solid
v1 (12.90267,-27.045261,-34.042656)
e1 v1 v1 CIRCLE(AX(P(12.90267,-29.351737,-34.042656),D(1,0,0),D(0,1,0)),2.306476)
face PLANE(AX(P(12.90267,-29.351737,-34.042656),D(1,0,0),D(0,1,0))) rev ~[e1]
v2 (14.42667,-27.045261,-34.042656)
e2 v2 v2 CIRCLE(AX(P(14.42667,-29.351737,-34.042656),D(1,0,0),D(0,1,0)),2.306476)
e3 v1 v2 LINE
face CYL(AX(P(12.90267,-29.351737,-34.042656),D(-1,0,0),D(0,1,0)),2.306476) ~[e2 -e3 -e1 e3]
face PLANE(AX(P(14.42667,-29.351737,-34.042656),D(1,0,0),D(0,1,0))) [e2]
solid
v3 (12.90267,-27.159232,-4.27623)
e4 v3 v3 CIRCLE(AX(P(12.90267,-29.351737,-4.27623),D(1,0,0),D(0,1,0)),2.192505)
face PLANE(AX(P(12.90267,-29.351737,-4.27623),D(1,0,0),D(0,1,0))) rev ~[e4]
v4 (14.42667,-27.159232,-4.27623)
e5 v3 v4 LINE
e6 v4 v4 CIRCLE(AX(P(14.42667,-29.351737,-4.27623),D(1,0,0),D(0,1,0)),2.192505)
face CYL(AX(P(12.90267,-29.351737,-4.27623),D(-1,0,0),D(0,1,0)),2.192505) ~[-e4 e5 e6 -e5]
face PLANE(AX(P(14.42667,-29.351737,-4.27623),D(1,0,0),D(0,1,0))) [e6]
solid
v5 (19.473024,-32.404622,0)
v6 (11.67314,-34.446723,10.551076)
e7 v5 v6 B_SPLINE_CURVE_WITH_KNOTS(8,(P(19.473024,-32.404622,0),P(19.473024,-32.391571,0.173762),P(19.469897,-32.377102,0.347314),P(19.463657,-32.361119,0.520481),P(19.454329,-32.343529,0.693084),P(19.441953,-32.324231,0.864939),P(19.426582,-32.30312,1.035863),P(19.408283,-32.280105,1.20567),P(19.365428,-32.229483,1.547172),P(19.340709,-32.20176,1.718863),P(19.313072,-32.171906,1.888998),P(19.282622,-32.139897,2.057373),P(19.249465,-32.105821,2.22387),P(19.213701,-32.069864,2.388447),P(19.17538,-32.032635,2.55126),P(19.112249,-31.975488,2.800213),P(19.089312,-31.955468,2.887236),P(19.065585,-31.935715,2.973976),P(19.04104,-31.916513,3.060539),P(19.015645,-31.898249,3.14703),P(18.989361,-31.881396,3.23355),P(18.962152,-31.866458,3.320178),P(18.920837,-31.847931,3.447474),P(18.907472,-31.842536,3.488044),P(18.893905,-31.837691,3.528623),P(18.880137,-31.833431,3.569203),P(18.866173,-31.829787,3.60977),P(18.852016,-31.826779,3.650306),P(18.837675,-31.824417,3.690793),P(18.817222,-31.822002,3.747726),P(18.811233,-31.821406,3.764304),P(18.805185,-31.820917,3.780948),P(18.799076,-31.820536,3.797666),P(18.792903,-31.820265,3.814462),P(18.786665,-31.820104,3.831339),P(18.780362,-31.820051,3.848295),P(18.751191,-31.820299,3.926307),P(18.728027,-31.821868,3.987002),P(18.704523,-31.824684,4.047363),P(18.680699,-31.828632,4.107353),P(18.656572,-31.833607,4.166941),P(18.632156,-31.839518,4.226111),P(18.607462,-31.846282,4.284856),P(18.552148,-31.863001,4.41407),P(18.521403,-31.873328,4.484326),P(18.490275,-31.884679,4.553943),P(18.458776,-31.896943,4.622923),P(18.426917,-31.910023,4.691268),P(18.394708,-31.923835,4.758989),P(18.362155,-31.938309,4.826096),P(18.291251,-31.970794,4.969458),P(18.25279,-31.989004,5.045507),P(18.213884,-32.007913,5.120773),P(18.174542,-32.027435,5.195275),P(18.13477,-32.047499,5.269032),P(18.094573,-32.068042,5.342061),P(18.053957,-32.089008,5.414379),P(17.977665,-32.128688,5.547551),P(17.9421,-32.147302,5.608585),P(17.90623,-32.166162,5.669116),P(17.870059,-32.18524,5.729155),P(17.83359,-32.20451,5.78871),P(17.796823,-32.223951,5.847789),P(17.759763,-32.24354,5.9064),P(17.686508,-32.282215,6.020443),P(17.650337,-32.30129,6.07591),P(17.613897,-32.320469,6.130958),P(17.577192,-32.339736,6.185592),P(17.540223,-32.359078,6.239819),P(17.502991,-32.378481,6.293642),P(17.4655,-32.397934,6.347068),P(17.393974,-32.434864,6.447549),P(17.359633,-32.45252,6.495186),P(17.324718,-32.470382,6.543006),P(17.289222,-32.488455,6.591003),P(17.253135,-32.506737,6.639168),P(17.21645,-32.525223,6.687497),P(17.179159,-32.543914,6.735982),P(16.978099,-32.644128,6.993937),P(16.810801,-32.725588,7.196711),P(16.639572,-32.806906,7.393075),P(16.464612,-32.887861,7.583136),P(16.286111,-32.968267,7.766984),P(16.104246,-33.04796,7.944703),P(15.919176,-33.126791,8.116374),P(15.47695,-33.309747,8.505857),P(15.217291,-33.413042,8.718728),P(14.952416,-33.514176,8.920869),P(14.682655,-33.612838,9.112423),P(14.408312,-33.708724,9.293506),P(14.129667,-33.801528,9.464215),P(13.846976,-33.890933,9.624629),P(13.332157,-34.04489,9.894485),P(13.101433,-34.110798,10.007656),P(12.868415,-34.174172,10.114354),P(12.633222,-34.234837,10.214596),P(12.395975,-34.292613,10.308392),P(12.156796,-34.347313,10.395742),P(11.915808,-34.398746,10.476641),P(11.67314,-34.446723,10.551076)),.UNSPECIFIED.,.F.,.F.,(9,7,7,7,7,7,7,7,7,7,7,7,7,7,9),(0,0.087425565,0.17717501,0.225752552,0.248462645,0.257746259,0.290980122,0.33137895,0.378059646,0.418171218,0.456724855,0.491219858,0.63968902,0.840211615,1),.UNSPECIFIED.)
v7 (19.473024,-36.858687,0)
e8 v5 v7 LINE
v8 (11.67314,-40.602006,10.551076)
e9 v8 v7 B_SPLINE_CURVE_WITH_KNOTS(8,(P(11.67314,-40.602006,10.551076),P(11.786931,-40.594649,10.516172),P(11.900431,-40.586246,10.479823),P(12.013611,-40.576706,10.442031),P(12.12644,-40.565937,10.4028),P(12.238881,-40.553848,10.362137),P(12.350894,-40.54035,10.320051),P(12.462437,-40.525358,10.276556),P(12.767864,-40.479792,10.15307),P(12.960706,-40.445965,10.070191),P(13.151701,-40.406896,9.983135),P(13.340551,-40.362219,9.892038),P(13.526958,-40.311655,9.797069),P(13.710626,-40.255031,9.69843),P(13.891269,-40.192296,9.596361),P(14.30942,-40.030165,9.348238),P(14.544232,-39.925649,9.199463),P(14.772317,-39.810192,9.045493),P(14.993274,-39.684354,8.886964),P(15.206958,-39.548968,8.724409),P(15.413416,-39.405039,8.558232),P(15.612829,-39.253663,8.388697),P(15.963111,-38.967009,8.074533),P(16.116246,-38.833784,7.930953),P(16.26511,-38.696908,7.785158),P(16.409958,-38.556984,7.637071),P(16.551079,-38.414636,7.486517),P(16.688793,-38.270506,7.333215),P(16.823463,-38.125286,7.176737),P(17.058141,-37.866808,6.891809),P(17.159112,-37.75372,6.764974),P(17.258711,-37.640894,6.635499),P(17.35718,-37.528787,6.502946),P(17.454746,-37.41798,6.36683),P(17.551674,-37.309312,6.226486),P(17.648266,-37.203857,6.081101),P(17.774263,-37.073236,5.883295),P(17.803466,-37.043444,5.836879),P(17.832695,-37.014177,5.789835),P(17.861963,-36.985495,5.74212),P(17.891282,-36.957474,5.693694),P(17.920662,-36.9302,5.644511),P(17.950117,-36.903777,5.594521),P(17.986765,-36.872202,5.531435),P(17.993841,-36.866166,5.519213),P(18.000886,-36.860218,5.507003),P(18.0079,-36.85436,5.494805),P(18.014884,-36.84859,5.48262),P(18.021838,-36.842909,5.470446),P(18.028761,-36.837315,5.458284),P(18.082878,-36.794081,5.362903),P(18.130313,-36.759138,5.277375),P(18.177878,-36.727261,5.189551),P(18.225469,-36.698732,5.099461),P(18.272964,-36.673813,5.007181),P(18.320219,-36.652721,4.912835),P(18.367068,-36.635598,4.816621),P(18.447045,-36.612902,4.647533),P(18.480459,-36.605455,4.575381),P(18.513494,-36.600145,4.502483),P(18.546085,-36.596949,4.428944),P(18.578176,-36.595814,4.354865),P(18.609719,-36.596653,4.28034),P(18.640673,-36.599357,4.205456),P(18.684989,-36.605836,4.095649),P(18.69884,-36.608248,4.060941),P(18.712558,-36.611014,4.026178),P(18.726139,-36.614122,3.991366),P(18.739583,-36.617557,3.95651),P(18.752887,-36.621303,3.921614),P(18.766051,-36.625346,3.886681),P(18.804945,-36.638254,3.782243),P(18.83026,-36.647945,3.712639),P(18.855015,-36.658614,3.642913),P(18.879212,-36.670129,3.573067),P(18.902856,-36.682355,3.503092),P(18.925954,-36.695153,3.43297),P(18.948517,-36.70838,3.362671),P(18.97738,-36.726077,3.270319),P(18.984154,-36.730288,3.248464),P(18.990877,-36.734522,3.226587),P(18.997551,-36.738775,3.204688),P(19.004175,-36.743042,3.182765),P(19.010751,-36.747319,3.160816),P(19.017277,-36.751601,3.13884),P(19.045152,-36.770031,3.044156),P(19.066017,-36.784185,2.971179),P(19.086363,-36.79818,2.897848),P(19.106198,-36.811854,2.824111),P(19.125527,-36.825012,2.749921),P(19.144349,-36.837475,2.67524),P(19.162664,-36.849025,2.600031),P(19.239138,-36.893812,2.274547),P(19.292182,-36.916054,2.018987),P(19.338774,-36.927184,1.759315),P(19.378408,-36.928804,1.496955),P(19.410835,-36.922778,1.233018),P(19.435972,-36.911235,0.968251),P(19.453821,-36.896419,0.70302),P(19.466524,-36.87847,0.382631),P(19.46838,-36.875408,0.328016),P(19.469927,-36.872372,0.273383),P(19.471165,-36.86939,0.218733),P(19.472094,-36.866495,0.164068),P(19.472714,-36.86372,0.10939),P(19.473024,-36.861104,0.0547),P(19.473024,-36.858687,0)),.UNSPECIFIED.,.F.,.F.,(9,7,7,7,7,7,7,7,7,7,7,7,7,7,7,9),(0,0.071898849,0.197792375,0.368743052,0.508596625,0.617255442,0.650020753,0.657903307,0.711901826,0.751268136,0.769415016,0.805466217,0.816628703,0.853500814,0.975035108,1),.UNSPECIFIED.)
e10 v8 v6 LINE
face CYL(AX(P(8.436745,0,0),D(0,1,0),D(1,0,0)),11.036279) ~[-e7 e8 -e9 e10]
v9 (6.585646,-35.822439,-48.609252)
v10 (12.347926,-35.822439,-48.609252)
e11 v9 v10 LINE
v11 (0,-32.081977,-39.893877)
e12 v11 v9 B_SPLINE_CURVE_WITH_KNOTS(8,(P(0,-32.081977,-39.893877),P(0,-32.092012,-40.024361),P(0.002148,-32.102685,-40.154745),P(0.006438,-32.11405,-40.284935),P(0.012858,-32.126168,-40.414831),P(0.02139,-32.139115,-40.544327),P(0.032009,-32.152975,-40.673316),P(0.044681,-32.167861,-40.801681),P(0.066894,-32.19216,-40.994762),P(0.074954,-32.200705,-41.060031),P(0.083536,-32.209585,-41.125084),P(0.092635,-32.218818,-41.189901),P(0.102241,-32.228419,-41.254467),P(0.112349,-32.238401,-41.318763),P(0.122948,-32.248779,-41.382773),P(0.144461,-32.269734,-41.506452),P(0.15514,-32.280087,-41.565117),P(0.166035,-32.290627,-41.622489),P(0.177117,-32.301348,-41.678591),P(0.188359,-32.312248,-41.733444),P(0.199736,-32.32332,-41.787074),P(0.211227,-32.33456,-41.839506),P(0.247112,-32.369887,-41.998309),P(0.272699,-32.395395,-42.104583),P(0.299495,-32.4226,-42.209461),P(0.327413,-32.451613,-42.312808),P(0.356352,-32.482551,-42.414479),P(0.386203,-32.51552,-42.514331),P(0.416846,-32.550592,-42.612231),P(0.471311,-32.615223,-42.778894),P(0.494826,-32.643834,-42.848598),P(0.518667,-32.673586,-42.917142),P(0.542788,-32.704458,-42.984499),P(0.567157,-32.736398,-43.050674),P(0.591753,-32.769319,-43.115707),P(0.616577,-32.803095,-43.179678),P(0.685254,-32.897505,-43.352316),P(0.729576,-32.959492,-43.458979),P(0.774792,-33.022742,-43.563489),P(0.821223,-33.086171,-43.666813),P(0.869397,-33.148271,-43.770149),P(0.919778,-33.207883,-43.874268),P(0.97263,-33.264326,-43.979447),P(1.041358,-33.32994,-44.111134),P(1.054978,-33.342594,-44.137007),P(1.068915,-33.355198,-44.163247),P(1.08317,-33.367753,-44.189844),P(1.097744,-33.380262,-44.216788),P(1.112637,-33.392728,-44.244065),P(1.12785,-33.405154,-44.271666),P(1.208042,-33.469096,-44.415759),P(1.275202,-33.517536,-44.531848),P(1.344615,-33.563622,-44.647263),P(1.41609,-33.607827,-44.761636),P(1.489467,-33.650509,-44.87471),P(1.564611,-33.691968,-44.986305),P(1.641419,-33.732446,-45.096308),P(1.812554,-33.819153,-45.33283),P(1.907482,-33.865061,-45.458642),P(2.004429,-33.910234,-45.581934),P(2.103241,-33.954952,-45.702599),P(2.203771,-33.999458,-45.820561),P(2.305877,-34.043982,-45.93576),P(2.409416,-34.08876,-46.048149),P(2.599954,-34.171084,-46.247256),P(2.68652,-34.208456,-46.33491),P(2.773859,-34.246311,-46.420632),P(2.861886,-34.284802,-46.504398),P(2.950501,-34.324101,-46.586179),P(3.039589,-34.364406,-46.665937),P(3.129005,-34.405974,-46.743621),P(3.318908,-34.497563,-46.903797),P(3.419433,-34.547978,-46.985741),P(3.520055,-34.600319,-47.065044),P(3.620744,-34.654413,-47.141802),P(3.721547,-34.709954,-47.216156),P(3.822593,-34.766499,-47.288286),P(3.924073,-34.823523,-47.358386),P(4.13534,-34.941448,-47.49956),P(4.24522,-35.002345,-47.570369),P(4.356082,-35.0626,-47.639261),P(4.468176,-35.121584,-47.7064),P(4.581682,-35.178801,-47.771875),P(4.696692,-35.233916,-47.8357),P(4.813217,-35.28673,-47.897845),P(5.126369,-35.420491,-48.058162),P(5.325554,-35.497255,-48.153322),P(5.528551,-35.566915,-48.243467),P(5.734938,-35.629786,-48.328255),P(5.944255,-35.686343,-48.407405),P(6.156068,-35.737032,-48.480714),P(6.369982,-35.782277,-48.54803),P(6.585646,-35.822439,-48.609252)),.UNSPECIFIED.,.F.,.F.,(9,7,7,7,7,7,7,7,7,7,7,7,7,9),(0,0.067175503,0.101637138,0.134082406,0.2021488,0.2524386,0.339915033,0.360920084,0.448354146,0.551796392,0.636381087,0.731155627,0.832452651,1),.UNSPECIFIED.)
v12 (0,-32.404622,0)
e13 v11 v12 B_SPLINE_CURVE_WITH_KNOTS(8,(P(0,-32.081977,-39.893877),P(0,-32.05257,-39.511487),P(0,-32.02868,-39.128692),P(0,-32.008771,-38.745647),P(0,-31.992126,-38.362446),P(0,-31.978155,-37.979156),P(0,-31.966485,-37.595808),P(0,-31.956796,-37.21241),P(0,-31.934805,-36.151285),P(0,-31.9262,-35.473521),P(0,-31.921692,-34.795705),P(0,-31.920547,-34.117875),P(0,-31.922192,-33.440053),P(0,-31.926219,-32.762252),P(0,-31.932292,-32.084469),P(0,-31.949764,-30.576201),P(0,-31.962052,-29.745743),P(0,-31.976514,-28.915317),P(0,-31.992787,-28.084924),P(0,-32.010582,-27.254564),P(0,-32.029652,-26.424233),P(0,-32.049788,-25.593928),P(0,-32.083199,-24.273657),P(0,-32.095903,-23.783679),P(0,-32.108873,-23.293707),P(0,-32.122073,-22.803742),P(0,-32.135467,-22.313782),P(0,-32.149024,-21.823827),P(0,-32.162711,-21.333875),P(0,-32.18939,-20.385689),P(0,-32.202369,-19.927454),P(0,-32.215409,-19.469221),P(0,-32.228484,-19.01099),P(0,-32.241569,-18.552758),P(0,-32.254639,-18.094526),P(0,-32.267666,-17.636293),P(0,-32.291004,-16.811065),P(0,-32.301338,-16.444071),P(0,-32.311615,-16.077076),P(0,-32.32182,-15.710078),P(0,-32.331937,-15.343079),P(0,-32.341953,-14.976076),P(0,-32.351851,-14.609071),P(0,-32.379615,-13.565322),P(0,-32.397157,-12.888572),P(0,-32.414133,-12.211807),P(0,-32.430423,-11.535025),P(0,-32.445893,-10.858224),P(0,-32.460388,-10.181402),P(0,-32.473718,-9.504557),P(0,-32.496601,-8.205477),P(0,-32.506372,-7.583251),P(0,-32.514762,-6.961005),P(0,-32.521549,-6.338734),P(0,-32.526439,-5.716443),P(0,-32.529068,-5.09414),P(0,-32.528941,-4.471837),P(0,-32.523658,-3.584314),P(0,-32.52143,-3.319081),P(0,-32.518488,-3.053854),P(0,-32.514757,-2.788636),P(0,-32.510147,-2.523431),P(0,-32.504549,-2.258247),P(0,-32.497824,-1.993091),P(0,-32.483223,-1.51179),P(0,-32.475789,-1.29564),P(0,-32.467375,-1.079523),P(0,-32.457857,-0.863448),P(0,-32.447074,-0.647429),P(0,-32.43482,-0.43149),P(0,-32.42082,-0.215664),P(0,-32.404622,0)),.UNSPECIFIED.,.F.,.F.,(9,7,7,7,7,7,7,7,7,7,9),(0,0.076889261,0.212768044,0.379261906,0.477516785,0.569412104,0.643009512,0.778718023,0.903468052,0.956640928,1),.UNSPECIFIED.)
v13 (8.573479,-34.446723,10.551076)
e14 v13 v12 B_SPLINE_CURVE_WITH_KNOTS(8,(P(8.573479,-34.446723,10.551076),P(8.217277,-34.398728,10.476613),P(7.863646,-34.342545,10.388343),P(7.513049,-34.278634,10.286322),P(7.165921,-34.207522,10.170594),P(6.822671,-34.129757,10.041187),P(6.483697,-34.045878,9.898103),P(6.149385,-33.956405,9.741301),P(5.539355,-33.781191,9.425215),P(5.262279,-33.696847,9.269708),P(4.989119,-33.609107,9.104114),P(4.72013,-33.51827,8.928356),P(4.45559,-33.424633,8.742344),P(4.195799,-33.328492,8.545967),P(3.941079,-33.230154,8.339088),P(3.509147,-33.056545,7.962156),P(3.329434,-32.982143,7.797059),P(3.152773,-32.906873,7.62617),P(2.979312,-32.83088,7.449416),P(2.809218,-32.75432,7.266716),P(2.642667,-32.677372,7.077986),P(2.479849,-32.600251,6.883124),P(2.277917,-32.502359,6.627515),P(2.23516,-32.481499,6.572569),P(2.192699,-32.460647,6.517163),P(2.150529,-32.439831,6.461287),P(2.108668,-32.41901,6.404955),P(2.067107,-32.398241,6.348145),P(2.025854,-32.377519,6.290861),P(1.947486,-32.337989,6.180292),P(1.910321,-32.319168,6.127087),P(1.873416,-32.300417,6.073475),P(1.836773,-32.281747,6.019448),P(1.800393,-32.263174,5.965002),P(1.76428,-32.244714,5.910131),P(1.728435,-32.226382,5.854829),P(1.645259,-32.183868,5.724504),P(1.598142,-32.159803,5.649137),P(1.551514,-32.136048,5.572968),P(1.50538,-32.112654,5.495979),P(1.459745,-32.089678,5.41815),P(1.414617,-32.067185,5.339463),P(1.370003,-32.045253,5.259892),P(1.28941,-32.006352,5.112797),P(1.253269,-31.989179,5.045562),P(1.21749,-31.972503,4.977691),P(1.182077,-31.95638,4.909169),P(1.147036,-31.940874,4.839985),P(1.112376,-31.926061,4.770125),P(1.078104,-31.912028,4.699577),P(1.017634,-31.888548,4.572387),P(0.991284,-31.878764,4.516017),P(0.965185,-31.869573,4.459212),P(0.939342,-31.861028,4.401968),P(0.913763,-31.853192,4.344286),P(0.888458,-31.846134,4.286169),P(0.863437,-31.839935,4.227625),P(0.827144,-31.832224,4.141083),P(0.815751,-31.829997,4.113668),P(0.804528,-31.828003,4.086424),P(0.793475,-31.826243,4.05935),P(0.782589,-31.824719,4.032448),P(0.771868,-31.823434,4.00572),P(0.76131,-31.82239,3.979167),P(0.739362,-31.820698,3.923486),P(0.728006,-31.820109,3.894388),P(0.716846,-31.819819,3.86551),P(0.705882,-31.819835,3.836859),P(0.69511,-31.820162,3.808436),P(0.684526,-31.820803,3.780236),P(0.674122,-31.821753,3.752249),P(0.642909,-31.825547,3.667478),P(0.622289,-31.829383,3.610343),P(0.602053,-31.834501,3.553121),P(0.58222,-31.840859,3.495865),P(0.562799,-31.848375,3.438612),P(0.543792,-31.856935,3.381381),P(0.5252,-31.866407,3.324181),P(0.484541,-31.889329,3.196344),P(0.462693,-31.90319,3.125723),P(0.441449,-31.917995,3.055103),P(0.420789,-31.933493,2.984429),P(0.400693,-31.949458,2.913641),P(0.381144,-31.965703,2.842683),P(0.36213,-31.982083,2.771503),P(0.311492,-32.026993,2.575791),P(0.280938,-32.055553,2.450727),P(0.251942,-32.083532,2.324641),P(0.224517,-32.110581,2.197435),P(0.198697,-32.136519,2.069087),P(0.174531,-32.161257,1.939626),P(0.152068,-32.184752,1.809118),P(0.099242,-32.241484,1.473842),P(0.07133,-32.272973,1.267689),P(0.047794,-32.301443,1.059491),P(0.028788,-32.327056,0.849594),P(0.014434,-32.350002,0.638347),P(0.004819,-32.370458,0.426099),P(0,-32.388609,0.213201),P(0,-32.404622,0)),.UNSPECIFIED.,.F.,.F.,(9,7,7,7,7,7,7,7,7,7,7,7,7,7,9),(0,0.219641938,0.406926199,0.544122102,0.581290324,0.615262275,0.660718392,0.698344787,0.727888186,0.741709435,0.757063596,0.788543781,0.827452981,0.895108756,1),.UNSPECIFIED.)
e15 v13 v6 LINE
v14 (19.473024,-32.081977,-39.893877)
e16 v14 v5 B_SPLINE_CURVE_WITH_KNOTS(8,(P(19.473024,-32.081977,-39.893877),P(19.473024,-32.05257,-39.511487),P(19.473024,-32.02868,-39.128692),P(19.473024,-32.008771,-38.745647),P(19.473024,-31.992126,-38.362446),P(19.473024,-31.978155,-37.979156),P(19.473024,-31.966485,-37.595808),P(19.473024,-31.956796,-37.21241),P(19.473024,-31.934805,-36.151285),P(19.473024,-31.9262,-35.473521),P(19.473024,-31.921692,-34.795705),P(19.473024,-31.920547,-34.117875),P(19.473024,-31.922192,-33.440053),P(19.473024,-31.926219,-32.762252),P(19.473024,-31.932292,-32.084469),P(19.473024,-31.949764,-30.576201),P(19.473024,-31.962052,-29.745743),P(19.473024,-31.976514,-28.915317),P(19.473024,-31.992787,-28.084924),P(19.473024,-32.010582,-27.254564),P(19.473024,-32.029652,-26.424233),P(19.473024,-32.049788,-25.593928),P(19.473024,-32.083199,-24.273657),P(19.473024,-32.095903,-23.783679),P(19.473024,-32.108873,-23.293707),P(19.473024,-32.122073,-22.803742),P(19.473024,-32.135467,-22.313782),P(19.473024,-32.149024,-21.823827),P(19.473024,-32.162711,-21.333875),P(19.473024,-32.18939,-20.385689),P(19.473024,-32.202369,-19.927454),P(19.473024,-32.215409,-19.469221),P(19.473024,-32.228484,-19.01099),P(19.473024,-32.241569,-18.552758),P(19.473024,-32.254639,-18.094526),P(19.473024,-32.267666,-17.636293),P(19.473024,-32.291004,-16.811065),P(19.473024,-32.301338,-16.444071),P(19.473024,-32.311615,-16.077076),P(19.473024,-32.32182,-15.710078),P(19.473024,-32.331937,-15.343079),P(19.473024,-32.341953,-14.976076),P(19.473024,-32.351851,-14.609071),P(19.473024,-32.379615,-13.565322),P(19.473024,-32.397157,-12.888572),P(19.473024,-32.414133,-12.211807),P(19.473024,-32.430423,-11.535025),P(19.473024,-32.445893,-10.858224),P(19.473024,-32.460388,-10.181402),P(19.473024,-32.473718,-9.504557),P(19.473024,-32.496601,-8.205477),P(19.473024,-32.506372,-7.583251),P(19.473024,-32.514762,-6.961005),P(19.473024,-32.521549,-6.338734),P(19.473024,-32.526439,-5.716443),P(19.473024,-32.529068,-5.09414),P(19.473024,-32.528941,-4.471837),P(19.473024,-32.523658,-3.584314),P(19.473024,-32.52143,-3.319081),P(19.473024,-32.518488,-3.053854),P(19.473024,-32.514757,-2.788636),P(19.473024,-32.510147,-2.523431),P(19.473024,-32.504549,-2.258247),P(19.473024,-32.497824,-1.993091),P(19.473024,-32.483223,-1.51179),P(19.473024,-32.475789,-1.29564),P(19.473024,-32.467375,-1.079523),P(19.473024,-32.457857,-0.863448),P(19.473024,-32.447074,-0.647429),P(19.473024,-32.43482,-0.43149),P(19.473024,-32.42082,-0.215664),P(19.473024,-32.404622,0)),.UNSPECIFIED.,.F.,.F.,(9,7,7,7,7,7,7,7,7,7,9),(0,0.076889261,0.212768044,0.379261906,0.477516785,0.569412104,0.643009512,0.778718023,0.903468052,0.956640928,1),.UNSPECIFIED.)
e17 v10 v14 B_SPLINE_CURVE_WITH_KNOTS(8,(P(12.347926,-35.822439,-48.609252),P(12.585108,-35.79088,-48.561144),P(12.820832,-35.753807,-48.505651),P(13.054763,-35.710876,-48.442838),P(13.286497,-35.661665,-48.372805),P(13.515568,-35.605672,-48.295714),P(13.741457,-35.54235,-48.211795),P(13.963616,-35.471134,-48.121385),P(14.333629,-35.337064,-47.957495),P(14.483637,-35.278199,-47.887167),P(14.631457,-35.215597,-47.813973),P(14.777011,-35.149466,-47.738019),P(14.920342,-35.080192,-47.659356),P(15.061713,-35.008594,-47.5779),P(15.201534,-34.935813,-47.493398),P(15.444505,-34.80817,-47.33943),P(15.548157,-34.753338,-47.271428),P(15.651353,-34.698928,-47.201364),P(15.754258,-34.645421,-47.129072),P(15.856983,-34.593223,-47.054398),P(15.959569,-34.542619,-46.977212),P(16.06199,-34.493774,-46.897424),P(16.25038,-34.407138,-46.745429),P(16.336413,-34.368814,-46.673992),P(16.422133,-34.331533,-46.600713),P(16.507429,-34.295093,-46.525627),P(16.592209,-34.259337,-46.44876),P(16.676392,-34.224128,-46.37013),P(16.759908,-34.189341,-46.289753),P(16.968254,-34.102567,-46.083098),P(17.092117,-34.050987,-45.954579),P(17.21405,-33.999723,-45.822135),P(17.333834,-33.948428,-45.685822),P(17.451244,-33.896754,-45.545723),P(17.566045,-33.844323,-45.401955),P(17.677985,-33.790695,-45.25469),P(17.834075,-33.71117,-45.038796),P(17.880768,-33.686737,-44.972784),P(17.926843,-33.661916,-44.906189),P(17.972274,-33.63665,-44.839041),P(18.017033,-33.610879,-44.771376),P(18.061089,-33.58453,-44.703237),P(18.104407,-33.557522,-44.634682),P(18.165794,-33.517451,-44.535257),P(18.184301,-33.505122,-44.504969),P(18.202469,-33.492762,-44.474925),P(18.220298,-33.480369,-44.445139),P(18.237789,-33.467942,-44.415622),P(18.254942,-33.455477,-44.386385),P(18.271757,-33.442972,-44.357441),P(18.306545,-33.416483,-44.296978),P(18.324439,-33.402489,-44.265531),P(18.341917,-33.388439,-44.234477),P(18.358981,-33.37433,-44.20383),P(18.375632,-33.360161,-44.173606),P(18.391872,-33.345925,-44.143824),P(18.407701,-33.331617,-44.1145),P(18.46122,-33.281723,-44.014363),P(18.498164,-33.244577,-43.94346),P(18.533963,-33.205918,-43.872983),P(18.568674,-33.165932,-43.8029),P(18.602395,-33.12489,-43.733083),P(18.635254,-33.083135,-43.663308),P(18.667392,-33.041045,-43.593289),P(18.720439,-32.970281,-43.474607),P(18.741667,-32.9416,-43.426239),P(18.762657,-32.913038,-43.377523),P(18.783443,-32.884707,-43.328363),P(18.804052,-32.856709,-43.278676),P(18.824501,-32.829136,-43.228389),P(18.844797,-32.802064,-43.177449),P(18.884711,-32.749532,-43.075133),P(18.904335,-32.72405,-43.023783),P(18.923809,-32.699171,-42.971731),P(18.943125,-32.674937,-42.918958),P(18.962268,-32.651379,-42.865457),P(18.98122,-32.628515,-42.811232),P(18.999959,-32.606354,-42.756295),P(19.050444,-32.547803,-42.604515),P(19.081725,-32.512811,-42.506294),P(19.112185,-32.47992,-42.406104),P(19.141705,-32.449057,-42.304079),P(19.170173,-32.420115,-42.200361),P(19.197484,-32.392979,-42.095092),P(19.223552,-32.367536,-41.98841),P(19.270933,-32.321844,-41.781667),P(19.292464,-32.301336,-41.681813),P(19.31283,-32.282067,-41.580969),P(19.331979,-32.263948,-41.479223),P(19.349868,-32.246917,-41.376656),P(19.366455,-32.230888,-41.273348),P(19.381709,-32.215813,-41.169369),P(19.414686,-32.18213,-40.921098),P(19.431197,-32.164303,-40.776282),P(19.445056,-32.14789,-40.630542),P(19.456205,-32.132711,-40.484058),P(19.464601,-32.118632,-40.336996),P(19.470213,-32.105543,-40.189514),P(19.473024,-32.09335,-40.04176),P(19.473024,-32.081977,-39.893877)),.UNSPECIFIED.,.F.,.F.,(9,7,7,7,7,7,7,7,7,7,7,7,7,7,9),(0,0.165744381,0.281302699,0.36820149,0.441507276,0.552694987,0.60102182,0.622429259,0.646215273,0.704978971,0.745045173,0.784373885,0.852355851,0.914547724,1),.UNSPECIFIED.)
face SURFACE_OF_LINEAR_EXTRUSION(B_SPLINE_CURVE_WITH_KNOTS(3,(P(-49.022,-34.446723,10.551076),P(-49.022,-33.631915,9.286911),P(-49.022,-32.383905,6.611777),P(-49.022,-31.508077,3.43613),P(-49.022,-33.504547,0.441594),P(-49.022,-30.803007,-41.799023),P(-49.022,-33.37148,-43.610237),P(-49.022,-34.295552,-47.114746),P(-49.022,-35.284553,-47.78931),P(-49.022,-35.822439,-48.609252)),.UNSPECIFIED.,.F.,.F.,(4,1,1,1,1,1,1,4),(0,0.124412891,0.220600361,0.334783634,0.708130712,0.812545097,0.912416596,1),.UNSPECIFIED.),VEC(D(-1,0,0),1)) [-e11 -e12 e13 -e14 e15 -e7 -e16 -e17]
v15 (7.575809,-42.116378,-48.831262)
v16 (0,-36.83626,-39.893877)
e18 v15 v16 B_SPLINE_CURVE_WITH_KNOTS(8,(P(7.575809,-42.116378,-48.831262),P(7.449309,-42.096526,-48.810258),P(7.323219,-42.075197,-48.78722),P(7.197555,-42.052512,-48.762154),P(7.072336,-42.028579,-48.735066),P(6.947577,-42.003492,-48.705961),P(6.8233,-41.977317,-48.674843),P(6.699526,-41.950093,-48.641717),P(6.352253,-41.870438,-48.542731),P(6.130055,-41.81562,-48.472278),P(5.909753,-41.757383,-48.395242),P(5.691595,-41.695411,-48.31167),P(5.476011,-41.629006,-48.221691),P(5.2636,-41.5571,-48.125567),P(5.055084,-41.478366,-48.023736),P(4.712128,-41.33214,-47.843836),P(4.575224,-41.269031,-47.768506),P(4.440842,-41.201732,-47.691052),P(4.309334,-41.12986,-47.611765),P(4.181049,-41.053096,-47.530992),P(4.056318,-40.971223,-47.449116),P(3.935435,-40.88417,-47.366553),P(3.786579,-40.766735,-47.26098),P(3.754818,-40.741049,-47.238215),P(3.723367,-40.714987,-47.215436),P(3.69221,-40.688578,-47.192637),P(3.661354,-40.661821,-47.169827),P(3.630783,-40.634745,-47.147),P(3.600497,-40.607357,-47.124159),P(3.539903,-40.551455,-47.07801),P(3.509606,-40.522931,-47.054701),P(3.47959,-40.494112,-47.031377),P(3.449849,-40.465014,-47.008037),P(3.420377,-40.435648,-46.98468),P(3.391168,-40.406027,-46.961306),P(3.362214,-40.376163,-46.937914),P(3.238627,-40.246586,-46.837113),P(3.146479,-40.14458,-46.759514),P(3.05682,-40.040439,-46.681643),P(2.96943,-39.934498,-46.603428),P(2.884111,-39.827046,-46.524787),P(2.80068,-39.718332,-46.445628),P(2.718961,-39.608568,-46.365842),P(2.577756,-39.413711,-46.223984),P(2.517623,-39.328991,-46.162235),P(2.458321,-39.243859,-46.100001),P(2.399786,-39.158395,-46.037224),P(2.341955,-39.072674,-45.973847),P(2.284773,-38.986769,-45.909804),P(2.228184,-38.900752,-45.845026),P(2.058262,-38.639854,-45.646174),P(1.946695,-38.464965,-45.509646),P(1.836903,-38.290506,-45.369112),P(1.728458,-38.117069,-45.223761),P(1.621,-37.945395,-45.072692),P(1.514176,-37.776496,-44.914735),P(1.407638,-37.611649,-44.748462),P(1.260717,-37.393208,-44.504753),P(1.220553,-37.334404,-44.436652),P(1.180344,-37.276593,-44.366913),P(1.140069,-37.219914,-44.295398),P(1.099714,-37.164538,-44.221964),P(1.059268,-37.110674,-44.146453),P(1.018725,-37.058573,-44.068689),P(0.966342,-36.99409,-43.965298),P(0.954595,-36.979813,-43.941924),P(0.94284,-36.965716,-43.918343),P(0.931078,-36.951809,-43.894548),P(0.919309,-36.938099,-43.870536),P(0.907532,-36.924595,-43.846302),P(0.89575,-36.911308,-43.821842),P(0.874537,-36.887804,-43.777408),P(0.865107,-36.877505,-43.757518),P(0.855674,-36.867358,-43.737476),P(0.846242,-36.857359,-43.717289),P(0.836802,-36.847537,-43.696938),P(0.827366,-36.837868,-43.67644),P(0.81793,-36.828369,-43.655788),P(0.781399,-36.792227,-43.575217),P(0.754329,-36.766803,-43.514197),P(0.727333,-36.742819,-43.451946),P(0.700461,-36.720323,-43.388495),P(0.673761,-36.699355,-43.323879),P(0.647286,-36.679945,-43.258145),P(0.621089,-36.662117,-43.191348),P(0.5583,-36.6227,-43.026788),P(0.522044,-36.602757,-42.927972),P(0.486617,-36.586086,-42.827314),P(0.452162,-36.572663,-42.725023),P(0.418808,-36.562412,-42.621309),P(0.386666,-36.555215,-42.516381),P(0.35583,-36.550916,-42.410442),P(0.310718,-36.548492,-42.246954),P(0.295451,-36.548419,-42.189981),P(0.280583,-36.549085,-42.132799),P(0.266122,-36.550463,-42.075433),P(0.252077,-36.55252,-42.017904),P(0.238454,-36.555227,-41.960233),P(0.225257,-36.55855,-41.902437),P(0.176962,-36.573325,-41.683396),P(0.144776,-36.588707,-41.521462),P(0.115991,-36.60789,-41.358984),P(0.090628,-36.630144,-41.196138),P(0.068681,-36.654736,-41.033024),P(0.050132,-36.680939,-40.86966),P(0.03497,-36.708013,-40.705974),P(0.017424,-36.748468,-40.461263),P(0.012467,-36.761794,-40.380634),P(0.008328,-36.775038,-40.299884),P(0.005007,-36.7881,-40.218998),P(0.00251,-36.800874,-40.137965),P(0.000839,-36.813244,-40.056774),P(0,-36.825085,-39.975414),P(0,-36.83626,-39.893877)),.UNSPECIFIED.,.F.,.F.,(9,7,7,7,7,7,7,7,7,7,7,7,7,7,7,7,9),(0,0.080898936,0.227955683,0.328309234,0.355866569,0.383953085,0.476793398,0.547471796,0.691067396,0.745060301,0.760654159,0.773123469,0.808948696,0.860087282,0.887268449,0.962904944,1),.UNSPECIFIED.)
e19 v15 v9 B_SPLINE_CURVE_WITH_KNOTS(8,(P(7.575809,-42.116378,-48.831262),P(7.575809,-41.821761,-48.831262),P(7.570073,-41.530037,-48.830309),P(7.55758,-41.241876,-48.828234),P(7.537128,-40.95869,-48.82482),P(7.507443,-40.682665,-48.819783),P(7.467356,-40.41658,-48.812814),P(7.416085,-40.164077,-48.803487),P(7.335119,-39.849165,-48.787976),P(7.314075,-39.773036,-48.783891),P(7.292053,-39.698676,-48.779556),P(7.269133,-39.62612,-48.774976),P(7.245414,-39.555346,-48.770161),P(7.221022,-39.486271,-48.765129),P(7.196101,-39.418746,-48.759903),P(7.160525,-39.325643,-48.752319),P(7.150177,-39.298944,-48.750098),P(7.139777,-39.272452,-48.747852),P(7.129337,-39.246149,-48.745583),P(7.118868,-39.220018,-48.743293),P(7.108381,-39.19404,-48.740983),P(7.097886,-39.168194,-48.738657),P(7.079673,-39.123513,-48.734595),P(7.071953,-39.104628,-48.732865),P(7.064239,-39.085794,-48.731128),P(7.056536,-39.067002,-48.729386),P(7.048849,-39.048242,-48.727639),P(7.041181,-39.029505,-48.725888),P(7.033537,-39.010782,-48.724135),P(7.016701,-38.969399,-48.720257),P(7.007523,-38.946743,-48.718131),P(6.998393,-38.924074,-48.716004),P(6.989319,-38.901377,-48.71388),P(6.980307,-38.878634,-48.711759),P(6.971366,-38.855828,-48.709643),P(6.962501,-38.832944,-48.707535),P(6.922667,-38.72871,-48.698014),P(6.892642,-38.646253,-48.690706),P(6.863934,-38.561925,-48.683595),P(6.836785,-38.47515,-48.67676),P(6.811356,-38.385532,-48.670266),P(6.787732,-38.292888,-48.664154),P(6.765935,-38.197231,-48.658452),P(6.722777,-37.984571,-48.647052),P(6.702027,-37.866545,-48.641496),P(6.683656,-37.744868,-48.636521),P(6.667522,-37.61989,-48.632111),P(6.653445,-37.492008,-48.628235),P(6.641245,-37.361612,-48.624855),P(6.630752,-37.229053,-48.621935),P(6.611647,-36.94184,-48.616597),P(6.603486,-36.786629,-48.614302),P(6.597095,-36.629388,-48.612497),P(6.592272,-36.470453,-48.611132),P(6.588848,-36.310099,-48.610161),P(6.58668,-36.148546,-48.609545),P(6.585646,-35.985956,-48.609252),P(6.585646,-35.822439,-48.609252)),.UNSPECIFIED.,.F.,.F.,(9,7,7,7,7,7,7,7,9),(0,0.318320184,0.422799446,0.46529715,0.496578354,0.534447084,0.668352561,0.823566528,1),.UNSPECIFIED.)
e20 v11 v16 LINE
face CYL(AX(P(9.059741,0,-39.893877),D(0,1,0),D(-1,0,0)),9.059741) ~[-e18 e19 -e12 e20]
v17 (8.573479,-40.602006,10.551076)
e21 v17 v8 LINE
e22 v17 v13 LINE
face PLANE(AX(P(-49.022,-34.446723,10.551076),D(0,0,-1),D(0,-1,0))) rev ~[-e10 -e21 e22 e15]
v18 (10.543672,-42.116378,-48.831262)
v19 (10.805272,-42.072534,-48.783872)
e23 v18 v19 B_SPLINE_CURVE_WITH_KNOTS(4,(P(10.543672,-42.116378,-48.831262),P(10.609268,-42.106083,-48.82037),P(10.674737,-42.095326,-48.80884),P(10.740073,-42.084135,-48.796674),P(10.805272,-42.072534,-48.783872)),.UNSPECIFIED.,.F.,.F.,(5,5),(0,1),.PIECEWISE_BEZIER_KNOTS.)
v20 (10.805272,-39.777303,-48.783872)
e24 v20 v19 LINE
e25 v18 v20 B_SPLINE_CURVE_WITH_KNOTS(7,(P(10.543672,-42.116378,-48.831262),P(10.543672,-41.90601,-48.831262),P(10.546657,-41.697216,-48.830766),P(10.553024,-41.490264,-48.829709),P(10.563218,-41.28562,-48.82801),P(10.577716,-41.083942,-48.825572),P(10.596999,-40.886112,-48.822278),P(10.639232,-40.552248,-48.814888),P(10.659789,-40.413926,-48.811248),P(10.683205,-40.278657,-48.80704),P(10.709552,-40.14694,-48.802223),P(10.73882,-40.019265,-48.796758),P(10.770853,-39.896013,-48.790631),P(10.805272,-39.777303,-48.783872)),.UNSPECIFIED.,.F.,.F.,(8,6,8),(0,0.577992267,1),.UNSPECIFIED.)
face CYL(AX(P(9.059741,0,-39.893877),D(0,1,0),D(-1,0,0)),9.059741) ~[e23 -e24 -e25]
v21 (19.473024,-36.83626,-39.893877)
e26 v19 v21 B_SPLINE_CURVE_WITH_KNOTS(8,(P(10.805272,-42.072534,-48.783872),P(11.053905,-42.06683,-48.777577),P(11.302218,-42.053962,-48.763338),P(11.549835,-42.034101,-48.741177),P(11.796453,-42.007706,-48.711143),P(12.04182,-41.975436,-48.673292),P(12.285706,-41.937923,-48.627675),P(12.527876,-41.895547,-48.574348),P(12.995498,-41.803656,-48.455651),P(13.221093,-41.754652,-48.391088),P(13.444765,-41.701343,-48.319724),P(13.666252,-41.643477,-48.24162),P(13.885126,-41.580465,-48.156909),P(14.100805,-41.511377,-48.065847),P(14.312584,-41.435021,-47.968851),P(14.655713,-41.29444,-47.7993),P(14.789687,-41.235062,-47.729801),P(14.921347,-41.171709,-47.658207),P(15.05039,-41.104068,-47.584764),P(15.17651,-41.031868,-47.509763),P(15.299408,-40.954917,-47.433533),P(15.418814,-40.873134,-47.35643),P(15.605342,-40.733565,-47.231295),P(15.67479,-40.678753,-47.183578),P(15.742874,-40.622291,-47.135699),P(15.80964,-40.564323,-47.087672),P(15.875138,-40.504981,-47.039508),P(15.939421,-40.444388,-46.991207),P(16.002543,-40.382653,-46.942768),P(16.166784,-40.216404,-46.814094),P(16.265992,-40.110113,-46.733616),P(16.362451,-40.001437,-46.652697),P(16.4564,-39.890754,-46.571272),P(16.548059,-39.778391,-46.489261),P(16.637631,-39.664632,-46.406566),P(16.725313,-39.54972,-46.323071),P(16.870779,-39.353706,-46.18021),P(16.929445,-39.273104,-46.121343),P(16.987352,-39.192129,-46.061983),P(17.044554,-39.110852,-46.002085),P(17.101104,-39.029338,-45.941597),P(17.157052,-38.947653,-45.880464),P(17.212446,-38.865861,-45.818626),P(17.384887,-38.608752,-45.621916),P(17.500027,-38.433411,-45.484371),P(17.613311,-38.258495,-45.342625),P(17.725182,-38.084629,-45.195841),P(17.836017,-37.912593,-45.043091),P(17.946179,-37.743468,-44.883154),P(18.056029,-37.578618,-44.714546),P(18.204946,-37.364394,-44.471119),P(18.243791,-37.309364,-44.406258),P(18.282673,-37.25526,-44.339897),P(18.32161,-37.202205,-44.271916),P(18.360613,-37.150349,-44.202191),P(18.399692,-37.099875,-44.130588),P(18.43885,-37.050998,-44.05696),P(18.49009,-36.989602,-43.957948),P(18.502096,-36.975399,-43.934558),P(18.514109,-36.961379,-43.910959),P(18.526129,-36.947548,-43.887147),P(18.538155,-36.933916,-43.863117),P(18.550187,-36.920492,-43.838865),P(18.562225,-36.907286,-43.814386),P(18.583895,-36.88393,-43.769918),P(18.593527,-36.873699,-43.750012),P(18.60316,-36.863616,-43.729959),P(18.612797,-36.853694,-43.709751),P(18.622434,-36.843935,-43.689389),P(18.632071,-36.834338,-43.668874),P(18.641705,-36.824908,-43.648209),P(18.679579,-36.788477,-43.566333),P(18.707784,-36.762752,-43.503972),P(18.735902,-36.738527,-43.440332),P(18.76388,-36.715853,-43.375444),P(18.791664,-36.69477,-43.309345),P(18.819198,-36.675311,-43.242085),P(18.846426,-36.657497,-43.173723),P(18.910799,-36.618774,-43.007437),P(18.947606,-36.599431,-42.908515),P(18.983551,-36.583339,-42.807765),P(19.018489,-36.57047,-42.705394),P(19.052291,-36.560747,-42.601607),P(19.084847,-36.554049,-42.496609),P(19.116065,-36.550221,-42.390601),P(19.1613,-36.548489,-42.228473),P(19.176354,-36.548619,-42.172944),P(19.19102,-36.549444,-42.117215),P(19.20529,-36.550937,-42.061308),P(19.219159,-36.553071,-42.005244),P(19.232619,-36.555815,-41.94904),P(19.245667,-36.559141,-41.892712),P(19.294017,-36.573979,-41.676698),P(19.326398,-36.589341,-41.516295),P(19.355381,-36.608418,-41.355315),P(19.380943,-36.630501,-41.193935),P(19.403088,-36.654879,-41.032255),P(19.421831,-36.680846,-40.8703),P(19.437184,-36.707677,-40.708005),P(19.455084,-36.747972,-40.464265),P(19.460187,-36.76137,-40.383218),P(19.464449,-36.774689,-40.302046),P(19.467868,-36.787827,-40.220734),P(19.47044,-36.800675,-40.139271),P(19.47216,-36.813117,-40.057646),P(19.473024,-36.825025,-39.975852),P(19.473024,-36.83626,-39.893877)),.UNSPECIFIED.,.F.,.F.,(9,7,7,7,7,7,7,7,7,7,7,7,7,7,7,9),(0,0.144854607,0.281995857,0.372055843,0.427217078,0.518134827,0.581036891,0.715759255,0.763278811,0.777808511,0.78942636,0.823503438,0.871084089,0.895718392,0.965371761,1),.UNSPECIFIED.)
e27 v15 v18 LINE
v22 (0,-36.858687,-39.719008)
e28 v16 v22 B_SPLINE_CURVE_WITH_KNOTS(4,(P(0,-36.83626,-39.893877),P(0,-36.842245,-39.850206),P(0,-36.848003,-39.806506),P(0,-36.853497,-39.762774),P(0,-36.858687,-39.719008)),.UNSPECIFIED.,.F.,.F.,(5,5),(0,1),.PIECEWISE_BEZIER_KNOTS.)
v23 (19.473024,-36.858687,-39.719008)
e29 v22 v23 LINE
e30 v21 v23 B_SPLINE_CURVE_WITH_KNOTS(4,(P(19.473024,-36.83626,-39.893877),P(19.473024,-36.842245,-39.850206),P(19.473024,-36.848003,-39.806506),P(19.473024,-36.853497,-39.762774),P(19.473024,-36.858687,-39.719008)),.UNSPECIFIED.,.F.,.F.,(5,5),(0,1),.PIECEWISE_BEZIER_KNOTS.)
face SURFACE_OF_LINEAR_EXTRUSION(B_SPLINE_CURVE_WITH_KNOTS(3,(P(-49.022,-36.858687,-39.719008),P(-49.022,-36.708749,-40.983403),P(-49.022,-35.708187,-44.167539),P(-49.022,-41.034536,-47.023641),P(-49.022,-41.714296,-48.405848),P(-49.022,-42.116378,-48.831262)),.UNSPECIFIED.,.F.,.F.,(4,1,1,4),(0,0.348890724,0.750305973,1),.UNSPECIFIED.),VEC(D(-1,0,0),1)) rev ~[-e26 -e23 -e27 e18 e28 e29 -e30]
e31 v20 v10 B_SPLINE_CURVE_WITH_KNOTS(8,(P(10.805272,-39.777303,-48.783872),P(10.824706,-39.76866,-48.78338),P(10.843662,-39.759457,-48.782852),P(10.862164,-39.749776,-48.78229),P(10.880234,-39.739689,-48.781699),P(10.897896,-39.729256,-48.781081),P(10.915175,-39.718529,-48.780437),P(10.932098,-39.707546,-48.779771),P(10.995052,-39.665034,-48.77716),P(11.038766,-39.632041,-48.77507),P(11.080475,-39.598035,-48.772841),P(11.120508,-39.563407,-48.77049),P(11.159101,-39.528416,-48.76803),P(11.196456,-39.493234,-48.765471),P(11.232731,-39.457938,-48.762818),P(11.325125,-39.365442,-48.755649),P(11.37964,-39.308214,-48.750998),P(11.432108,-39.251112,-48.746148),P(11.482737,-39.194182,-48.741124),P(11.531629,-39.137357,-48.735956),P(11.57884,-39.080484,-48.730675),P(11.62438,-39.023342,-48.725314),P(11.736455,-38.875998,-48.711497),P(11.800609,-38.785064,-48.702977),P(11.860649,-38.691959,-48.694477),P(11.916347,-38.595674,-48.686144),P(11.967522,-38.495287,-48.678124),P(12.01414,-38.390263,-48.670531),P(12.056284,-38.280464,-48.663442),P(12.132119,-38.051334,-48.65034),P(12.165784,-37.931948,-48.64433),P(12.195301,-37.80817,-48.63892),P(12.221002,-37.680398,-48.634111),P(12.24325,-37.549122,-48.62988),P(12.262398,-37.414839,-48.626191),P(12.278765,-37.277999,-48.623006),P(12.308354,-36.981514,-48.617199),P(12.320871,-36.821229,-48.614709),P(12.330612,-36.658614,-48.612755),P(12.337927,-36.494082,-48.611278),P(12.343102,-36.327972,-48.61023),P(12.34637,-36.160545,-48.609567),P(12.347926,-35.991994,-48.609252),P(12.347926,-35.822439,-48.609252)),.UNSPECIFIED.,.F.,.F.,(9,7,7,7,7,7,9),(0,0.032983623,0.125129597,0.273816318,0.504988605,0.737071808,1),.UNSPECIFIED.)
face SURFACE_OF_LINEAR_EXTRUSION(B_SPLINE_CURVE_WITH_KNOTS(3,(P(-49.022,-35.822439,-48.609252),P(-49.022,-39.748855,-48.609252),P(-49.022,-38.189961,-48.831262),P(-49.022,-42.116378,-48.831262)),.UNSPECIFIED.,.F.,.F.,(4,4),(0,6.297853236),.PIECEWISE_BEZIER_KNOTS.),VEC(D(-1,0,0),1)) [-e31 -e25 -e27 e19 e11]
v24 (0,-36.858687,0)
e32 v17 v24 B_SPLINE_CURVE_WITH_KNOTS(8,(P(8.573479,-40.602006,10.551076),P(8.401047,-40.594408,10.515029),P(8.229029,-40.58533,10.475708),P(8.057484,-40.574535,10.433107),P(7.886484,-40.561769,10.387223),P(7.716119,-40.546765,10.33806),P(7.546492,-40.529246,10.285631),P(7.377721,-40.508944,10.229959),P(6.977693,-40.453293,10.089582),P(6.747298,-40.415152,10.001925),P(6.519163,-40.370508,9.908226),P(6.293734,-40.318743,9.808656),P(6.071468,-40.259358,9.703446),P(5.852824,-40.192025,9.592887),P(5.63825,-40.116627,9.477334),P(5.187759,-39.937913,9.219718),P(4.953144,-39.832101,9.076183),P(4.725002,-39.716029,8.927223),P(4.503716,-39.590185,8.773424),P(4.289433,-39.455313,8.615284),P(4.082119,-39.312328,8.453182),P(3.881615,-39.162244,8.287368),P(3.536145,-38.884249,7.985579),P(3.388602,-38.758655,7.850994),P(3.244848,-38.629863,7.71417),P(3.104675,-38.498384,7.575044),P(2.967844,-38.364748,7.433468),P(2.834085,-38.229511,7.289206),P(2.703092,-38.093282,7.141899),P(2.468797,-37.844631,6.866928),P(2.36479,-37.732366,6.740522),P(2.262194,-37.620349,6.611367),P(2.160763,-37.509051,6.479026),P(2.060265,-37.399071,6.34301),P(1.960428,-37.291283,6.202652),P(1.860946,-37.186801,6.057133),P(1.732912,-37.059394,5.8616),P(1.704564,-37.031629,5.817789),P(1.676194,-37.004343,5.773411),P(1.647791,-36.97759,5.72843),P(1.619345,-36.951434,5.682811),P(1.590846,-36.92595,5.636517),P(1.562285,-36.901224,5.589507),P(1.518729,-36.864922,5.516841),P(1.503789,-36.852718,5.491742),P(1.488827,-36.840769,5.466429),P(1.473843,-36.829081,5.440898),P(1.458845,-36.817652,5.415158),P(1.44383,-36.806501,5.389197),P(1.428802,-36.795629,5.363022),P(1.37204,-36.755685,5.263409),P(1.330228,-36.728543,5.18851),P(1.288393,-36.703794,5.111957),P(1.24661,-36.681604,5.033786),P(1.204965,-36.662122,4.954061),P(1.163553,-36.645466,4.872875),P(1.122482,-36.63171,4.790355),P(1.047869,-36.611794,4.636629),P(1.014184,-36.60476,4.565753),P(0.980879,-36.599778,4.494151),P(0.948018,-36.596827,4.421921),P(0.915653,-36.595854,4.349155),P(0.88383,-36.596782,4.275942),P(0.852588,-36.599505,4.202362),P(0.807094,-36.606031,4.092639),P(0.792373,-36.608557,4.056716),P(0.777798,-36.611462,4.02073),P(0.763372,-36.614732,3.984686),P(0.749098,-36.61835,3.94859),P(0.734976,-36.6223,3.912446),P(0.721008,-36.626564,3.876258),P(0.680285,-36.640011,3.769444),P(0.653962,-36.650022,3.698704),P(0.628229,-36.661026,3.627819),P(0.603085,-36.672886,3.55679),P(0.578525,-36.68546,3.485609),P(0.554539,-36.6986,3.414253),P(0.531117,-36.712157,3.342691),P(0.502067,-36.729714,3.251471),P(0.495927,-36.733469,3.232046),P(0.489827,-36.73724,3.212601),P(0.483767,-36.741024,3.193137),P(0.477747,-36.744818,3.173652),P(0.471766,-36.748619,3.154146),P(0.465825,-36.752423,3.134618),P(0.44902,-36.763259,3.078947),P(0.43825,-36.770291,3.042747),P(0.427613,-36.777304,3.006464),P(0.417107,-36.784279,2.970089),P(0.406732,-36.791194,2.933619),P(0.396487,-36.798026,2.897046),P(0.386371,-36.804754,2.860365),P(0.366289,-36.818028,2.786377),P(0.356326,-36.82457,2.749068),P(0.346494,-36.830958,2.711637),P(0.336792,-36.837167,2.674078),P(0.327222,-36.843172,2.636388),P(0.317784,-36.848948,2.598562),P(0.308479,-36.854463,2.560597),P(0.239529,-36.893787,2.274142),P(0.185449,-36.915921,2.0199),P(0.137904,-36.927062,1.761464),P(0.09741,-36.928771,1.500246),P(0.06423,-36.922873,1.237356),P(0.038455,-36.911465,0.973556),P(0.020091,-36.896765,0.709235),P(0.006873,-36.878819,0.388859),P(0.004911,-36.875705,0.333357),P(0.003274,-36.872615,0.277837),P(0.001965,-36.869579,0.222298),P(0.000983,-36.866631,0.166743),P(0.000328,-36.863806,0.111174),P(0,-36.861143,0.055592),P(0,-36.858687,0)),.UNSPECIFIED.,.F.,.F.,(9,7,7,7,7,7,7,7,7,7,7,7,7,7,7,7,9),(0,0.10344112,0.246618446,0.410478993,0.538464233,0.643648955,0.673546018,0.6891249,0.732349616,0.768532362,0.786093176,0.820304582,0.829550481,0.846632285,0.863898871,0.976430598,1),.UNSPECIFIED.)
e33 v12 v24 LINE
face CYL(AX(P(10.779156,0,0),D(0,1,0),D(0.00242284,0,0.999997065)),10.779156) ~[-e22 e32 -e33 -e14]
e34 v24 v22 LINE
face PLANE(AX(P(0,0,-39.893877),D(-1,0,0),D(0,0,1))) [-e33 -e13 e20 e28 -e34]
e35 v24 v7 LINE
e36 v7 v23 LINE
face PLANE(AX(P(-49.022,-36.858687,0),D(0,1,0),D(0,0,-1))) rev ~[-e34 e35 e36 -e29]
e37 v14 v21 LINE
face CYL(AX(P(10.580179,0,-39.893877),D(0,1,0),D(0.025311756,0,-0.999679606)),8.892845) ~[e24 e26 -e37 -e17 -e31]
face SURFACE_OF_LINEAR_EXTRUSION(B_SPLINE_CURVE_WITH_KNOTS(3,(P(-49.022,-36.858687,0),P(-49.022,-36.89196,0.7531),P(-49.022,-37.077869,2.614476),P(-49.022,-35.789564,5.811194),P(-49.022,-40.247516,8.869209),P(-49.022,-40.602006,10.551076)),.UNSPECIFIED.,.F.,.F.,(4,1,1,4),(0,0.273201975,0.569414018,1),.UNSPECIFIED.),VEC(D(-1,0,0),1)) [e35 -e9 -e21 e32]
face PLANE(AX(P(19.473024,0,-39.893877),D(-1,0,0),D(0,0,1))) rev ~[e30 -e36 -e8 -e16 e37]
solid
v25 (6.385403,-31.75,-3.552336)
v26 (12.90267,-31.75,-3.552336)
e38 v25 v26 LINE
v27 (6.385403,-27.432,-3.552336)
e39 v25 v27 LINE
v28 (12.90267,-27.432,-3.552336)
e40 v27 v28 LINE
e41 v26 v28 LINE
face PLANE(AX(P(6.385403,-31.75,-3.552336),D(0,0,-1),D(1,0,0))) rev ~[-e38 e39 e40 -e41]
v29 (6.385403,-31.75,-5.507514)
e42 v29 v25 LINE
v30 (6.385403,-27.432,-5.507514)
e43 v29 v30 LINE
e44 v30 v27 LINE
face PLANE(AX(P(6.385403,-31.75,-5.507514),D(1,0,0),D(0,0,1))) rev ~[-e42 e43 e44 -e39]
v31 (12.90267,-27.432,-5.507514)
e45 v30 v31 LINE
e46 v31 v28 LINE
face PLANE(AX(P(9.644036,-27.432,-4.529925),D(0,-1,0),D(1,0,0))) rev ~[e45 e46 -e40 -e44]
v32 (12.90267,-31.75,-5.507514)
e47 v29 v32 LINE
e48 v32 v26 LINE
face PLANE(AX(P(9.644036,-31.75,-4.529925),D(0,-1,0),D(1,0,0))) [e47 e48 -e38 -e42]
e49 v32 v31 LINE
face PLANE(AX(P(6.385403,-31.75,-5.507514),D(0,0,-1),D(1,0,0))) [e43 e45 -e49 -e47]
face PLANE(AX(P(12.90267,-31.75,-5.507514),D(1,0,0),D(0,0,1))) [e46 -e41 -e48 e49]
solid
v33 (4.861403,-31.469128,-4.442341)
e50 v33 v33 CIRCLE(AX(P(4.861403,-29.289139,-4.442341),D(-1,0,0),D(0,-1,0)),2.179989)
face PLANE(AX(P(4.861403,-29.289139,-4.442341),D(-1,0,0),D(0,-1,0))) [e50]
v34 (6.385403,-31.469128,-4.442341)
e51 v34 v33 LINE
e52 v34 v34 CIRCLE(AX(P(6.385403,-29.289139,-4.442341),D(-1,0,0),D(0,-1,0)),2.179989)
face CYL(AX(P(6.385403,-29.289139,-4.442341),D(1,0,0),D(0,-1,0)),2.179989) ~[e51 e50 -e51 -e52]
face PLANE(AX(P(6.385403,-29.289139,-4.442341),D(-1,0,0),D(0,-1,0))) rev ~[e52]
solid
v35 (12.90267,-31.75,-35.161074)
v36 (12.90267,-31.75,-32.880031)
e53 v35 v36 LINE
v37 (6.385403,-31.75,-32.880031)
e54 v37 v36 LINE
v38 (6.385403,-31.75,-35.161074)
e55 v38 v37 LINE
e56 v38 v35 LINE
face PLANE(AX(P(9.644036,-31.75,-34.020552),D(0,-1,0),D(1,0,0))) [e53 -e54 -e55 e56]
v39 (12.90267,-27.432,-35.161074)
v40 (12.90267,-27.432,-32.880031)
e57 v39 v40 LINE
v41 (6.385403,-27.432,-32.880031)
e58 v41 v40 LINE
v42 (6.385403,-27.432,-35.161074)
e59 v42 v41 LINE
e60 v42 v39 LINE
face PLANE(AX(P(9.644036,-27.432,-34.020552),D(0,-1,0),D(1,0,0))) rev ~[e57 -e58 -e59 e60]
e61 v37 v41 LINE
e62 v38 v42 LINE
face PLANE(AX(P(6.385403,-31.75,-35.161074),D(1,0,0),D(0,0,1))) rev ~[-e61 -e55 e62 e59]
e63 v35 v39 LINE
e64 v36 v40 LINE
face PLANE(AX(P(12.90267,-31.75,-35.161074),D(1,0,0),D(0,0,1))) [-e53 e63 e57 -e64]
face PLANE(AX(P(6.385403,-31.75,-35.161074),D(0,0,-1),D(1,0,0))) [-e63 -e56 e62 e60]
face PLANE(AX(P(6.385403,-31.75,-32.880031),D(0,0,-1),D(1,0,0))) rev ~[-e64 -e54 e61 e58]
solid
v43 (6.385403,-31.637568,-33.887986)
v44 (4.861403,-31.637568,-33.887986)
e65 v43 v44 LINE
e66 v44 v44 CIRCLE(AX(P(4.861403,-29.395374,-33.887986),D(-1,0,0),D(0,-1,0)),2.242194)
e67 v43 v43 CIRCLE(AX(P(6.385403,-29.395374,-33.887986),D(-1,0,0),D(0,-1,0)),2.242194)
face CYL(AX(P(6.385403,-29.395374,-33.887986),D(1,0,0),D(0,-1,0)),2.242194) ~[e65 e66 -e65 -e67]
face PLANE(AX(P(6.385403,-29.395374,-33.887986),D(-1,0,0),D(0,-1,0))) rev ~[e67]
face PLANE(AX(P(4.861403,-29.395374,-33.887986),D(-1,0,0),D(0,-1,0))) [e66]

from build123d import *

# Parameters (mm, degrees)
F0_W      = 19.4730237126
F0_H      = 39.8938767612
F1_DEPTH  = 53.848
F4_DEPTH  = 118.11
F6_W      = 6.517266389
F6_H      = 1.9551778678
F7_DEPTH  = 4.318
F6_H_2    = 2.2810436785
F9_R      = 2.192505397
F10_DEPTH = 1.524
F9_R_2    = 2.3064764246
F12_R     = 2.242194372
F13_DEPTH = 1.524
F12_R_2   = 2.1799890435


with BuildPart() as f1:
    # F0 (on Front) → F1 (new body)
    with BuildSketch(Plane.XZ):
        with Locations((9.7365118563, -19.9469383806)):
            Rectangle(F0_W, F0_H)
        with BuildLine():
            ThreePointArc((10.8052724972, 10.7791246846), (3.1663808531, 7.6312424071), (0, 0))
            Line((0, 0), (19.4730237126, 0))
            ThreePointArc((19.4730237126, 0), (17.0373024717, 6.9159135351), (10.8052724972, 10.7791246846))
        make_face()
        with BuildLine():
            Line((19.4730237126, -39.8938767612), (0, -39.8938767612))
            ThreePointArc((0, -39.8938767612), (3.3036640813, -46.8900531098), (10.8052724972, -48.7838722765))
            ThreePointArc((10.8052724972, -48.7838722765), (16.9474550511, -46.101974928), (19.4730237126, -39.8938767612))
        make_face()
    extrude(amount=F1_DEPTH)

    # F3 (on offset) → F4 (intersect)
    with BuildSketch(Plane.YZ.offset(-49.022)):
        with BuildLine():
            add(Edge.make_bspline(
                [(-36.8586873474, 0), (-36.8919603895, 0.7530999839), (-37.0778688158, 2.6144761287), (-35.7895641145, 5.8111939968), (-40.2475164006, 8.8692086598), (-40.6020059403, 10.5510757451)],
                knots=[0, 0, 0, 0, 0.2732019747, 0.5694140182, 1, 1, 1, 1], degree=3))
            Line((-36.8586873474, 0), (-36.8586873474, -39.7190079093))
            add(Edge.make_bspline(
                [(-36.8586873474, -39.7190079093), (-36.7087489656, -40.9834027512), (-35.7081874891, -44.1675387969), (-41.0345357649, -47.0236409696), (-41.7142958558, -48.4058483971), (-42.1163775027, -48.8312616944)],
                knots=[0, 0, 0, 0, 0.348890724, 0.7503059728, 1, 1, 1, 1], degree=3))
            add(Edge.make_bspline(
                [(-35.8224385996, -48.6092516411), (-39.7488554586, -48.6092516411), (-38.1899606436, -48.8312616944), (-42.1163775027, -48.8312616944)],
                knots=[0, 0, 0, 0, 6.2978532358, 6.2978532358, 6.2978532358, 6.2978532358], degree=3))
            add(Edge.make_bspline(
                [(-34.446722697, 10.5510757451), (-33.6319148723, 9.2869111044), (-32.3839047516, 6.6117773426), (-31.508076892, 3.4361304962), (-33.5045467559, 0.4415943039), (-30.8030067117, -41.7990229537), (-33.3714799088, -43.6102367567), (-34.2955524257, -47.1147462947), (-35.2845534591, -47.7893097907), (-35.8224385996, -48.6092516411)],
                knots=[0, 0, 0, 0, 0.1244128912, 0.2206003607, 0.3347836335, 0.7081307119, 0.8125450974, 0.9124165958, 1, 1, 1, 1], degree=3))
            Line((-34.446722697, 10.5510757451), (-40.6020059403, 10.5510757451))
        make_face()
    extrude(amount=F4_DEPTH, mode=Mode.INTERSECT)


with BuildPart() as f7:
    # F6 (on offset) → F7 (new body)
    with BuildSketch(Plane.XZ.offset(31.75)):
        with Locations((9.6440364141, -4.5299254125)):
            Rectangle(F6_W, F6_H)
    extrude(amount=-F7_DEPTH)


with BuildPart() as f7b:
    # F6 (on offset) → F7, piece 2 (new body)
    with BuildSketch(Plane.XZ.offset(31.75)):
        with Locations((9.6440364141, -34.0205524117)):
            Rectangle(F6_W, F6_H_2)
    extrude(amount=-F7_DEPTH)


with BuildPart() as f10:
    # F9 (on offset) → F10 (new body)
    with BuildSketch(Plane.YZ.offset(12.9026696086)):
        with Locations((-29.3517373502, -4.27623)):
            Circle(F9_R)
    extrude(amount=F10_DEPTH)


with BuildPart() as f10b:
    # F9 (on offset) → F10, piece 2 (new body)
    with BuildSketch(Plane.YZ.offset(12.9026696086)):
        with Locations((-29.3517373502, -34.0426564217)):
            Circle(F9_R_2)
    extrude(amount=F10_DEPTH)


with BuildPart() as f13:
    # F12 (on offset) → F13 (new body)
    with BuildSketch(Plane(origin=(6.3854032196, 0, 0), x_dir=(0, -1, 0), z_dir=(-1, 0, 0))):
        with Locations((29.3953735381, -33.8879860938)):
            Circle(F12_R)
    extrude(amount=F13_DEPTH)


with BuildPart() as f13b:
    # F12 (on offset) → F13, piece 2 (new body)
    with BuildSketch(Plane(origin=(6.3854032196, 0, 0), x_dir=(0, -1, 0), z_dir=(-1, 0, 0))):
        with Locations((29.2891394347, -4.44234116)):
            Circle(F12_R_2)
    extrude(amount=F13_DEPTH)


solid = Compound([f1.part, f7.part, f7b.part, f10.part, f10b.part, f13.part, f13b.part])
